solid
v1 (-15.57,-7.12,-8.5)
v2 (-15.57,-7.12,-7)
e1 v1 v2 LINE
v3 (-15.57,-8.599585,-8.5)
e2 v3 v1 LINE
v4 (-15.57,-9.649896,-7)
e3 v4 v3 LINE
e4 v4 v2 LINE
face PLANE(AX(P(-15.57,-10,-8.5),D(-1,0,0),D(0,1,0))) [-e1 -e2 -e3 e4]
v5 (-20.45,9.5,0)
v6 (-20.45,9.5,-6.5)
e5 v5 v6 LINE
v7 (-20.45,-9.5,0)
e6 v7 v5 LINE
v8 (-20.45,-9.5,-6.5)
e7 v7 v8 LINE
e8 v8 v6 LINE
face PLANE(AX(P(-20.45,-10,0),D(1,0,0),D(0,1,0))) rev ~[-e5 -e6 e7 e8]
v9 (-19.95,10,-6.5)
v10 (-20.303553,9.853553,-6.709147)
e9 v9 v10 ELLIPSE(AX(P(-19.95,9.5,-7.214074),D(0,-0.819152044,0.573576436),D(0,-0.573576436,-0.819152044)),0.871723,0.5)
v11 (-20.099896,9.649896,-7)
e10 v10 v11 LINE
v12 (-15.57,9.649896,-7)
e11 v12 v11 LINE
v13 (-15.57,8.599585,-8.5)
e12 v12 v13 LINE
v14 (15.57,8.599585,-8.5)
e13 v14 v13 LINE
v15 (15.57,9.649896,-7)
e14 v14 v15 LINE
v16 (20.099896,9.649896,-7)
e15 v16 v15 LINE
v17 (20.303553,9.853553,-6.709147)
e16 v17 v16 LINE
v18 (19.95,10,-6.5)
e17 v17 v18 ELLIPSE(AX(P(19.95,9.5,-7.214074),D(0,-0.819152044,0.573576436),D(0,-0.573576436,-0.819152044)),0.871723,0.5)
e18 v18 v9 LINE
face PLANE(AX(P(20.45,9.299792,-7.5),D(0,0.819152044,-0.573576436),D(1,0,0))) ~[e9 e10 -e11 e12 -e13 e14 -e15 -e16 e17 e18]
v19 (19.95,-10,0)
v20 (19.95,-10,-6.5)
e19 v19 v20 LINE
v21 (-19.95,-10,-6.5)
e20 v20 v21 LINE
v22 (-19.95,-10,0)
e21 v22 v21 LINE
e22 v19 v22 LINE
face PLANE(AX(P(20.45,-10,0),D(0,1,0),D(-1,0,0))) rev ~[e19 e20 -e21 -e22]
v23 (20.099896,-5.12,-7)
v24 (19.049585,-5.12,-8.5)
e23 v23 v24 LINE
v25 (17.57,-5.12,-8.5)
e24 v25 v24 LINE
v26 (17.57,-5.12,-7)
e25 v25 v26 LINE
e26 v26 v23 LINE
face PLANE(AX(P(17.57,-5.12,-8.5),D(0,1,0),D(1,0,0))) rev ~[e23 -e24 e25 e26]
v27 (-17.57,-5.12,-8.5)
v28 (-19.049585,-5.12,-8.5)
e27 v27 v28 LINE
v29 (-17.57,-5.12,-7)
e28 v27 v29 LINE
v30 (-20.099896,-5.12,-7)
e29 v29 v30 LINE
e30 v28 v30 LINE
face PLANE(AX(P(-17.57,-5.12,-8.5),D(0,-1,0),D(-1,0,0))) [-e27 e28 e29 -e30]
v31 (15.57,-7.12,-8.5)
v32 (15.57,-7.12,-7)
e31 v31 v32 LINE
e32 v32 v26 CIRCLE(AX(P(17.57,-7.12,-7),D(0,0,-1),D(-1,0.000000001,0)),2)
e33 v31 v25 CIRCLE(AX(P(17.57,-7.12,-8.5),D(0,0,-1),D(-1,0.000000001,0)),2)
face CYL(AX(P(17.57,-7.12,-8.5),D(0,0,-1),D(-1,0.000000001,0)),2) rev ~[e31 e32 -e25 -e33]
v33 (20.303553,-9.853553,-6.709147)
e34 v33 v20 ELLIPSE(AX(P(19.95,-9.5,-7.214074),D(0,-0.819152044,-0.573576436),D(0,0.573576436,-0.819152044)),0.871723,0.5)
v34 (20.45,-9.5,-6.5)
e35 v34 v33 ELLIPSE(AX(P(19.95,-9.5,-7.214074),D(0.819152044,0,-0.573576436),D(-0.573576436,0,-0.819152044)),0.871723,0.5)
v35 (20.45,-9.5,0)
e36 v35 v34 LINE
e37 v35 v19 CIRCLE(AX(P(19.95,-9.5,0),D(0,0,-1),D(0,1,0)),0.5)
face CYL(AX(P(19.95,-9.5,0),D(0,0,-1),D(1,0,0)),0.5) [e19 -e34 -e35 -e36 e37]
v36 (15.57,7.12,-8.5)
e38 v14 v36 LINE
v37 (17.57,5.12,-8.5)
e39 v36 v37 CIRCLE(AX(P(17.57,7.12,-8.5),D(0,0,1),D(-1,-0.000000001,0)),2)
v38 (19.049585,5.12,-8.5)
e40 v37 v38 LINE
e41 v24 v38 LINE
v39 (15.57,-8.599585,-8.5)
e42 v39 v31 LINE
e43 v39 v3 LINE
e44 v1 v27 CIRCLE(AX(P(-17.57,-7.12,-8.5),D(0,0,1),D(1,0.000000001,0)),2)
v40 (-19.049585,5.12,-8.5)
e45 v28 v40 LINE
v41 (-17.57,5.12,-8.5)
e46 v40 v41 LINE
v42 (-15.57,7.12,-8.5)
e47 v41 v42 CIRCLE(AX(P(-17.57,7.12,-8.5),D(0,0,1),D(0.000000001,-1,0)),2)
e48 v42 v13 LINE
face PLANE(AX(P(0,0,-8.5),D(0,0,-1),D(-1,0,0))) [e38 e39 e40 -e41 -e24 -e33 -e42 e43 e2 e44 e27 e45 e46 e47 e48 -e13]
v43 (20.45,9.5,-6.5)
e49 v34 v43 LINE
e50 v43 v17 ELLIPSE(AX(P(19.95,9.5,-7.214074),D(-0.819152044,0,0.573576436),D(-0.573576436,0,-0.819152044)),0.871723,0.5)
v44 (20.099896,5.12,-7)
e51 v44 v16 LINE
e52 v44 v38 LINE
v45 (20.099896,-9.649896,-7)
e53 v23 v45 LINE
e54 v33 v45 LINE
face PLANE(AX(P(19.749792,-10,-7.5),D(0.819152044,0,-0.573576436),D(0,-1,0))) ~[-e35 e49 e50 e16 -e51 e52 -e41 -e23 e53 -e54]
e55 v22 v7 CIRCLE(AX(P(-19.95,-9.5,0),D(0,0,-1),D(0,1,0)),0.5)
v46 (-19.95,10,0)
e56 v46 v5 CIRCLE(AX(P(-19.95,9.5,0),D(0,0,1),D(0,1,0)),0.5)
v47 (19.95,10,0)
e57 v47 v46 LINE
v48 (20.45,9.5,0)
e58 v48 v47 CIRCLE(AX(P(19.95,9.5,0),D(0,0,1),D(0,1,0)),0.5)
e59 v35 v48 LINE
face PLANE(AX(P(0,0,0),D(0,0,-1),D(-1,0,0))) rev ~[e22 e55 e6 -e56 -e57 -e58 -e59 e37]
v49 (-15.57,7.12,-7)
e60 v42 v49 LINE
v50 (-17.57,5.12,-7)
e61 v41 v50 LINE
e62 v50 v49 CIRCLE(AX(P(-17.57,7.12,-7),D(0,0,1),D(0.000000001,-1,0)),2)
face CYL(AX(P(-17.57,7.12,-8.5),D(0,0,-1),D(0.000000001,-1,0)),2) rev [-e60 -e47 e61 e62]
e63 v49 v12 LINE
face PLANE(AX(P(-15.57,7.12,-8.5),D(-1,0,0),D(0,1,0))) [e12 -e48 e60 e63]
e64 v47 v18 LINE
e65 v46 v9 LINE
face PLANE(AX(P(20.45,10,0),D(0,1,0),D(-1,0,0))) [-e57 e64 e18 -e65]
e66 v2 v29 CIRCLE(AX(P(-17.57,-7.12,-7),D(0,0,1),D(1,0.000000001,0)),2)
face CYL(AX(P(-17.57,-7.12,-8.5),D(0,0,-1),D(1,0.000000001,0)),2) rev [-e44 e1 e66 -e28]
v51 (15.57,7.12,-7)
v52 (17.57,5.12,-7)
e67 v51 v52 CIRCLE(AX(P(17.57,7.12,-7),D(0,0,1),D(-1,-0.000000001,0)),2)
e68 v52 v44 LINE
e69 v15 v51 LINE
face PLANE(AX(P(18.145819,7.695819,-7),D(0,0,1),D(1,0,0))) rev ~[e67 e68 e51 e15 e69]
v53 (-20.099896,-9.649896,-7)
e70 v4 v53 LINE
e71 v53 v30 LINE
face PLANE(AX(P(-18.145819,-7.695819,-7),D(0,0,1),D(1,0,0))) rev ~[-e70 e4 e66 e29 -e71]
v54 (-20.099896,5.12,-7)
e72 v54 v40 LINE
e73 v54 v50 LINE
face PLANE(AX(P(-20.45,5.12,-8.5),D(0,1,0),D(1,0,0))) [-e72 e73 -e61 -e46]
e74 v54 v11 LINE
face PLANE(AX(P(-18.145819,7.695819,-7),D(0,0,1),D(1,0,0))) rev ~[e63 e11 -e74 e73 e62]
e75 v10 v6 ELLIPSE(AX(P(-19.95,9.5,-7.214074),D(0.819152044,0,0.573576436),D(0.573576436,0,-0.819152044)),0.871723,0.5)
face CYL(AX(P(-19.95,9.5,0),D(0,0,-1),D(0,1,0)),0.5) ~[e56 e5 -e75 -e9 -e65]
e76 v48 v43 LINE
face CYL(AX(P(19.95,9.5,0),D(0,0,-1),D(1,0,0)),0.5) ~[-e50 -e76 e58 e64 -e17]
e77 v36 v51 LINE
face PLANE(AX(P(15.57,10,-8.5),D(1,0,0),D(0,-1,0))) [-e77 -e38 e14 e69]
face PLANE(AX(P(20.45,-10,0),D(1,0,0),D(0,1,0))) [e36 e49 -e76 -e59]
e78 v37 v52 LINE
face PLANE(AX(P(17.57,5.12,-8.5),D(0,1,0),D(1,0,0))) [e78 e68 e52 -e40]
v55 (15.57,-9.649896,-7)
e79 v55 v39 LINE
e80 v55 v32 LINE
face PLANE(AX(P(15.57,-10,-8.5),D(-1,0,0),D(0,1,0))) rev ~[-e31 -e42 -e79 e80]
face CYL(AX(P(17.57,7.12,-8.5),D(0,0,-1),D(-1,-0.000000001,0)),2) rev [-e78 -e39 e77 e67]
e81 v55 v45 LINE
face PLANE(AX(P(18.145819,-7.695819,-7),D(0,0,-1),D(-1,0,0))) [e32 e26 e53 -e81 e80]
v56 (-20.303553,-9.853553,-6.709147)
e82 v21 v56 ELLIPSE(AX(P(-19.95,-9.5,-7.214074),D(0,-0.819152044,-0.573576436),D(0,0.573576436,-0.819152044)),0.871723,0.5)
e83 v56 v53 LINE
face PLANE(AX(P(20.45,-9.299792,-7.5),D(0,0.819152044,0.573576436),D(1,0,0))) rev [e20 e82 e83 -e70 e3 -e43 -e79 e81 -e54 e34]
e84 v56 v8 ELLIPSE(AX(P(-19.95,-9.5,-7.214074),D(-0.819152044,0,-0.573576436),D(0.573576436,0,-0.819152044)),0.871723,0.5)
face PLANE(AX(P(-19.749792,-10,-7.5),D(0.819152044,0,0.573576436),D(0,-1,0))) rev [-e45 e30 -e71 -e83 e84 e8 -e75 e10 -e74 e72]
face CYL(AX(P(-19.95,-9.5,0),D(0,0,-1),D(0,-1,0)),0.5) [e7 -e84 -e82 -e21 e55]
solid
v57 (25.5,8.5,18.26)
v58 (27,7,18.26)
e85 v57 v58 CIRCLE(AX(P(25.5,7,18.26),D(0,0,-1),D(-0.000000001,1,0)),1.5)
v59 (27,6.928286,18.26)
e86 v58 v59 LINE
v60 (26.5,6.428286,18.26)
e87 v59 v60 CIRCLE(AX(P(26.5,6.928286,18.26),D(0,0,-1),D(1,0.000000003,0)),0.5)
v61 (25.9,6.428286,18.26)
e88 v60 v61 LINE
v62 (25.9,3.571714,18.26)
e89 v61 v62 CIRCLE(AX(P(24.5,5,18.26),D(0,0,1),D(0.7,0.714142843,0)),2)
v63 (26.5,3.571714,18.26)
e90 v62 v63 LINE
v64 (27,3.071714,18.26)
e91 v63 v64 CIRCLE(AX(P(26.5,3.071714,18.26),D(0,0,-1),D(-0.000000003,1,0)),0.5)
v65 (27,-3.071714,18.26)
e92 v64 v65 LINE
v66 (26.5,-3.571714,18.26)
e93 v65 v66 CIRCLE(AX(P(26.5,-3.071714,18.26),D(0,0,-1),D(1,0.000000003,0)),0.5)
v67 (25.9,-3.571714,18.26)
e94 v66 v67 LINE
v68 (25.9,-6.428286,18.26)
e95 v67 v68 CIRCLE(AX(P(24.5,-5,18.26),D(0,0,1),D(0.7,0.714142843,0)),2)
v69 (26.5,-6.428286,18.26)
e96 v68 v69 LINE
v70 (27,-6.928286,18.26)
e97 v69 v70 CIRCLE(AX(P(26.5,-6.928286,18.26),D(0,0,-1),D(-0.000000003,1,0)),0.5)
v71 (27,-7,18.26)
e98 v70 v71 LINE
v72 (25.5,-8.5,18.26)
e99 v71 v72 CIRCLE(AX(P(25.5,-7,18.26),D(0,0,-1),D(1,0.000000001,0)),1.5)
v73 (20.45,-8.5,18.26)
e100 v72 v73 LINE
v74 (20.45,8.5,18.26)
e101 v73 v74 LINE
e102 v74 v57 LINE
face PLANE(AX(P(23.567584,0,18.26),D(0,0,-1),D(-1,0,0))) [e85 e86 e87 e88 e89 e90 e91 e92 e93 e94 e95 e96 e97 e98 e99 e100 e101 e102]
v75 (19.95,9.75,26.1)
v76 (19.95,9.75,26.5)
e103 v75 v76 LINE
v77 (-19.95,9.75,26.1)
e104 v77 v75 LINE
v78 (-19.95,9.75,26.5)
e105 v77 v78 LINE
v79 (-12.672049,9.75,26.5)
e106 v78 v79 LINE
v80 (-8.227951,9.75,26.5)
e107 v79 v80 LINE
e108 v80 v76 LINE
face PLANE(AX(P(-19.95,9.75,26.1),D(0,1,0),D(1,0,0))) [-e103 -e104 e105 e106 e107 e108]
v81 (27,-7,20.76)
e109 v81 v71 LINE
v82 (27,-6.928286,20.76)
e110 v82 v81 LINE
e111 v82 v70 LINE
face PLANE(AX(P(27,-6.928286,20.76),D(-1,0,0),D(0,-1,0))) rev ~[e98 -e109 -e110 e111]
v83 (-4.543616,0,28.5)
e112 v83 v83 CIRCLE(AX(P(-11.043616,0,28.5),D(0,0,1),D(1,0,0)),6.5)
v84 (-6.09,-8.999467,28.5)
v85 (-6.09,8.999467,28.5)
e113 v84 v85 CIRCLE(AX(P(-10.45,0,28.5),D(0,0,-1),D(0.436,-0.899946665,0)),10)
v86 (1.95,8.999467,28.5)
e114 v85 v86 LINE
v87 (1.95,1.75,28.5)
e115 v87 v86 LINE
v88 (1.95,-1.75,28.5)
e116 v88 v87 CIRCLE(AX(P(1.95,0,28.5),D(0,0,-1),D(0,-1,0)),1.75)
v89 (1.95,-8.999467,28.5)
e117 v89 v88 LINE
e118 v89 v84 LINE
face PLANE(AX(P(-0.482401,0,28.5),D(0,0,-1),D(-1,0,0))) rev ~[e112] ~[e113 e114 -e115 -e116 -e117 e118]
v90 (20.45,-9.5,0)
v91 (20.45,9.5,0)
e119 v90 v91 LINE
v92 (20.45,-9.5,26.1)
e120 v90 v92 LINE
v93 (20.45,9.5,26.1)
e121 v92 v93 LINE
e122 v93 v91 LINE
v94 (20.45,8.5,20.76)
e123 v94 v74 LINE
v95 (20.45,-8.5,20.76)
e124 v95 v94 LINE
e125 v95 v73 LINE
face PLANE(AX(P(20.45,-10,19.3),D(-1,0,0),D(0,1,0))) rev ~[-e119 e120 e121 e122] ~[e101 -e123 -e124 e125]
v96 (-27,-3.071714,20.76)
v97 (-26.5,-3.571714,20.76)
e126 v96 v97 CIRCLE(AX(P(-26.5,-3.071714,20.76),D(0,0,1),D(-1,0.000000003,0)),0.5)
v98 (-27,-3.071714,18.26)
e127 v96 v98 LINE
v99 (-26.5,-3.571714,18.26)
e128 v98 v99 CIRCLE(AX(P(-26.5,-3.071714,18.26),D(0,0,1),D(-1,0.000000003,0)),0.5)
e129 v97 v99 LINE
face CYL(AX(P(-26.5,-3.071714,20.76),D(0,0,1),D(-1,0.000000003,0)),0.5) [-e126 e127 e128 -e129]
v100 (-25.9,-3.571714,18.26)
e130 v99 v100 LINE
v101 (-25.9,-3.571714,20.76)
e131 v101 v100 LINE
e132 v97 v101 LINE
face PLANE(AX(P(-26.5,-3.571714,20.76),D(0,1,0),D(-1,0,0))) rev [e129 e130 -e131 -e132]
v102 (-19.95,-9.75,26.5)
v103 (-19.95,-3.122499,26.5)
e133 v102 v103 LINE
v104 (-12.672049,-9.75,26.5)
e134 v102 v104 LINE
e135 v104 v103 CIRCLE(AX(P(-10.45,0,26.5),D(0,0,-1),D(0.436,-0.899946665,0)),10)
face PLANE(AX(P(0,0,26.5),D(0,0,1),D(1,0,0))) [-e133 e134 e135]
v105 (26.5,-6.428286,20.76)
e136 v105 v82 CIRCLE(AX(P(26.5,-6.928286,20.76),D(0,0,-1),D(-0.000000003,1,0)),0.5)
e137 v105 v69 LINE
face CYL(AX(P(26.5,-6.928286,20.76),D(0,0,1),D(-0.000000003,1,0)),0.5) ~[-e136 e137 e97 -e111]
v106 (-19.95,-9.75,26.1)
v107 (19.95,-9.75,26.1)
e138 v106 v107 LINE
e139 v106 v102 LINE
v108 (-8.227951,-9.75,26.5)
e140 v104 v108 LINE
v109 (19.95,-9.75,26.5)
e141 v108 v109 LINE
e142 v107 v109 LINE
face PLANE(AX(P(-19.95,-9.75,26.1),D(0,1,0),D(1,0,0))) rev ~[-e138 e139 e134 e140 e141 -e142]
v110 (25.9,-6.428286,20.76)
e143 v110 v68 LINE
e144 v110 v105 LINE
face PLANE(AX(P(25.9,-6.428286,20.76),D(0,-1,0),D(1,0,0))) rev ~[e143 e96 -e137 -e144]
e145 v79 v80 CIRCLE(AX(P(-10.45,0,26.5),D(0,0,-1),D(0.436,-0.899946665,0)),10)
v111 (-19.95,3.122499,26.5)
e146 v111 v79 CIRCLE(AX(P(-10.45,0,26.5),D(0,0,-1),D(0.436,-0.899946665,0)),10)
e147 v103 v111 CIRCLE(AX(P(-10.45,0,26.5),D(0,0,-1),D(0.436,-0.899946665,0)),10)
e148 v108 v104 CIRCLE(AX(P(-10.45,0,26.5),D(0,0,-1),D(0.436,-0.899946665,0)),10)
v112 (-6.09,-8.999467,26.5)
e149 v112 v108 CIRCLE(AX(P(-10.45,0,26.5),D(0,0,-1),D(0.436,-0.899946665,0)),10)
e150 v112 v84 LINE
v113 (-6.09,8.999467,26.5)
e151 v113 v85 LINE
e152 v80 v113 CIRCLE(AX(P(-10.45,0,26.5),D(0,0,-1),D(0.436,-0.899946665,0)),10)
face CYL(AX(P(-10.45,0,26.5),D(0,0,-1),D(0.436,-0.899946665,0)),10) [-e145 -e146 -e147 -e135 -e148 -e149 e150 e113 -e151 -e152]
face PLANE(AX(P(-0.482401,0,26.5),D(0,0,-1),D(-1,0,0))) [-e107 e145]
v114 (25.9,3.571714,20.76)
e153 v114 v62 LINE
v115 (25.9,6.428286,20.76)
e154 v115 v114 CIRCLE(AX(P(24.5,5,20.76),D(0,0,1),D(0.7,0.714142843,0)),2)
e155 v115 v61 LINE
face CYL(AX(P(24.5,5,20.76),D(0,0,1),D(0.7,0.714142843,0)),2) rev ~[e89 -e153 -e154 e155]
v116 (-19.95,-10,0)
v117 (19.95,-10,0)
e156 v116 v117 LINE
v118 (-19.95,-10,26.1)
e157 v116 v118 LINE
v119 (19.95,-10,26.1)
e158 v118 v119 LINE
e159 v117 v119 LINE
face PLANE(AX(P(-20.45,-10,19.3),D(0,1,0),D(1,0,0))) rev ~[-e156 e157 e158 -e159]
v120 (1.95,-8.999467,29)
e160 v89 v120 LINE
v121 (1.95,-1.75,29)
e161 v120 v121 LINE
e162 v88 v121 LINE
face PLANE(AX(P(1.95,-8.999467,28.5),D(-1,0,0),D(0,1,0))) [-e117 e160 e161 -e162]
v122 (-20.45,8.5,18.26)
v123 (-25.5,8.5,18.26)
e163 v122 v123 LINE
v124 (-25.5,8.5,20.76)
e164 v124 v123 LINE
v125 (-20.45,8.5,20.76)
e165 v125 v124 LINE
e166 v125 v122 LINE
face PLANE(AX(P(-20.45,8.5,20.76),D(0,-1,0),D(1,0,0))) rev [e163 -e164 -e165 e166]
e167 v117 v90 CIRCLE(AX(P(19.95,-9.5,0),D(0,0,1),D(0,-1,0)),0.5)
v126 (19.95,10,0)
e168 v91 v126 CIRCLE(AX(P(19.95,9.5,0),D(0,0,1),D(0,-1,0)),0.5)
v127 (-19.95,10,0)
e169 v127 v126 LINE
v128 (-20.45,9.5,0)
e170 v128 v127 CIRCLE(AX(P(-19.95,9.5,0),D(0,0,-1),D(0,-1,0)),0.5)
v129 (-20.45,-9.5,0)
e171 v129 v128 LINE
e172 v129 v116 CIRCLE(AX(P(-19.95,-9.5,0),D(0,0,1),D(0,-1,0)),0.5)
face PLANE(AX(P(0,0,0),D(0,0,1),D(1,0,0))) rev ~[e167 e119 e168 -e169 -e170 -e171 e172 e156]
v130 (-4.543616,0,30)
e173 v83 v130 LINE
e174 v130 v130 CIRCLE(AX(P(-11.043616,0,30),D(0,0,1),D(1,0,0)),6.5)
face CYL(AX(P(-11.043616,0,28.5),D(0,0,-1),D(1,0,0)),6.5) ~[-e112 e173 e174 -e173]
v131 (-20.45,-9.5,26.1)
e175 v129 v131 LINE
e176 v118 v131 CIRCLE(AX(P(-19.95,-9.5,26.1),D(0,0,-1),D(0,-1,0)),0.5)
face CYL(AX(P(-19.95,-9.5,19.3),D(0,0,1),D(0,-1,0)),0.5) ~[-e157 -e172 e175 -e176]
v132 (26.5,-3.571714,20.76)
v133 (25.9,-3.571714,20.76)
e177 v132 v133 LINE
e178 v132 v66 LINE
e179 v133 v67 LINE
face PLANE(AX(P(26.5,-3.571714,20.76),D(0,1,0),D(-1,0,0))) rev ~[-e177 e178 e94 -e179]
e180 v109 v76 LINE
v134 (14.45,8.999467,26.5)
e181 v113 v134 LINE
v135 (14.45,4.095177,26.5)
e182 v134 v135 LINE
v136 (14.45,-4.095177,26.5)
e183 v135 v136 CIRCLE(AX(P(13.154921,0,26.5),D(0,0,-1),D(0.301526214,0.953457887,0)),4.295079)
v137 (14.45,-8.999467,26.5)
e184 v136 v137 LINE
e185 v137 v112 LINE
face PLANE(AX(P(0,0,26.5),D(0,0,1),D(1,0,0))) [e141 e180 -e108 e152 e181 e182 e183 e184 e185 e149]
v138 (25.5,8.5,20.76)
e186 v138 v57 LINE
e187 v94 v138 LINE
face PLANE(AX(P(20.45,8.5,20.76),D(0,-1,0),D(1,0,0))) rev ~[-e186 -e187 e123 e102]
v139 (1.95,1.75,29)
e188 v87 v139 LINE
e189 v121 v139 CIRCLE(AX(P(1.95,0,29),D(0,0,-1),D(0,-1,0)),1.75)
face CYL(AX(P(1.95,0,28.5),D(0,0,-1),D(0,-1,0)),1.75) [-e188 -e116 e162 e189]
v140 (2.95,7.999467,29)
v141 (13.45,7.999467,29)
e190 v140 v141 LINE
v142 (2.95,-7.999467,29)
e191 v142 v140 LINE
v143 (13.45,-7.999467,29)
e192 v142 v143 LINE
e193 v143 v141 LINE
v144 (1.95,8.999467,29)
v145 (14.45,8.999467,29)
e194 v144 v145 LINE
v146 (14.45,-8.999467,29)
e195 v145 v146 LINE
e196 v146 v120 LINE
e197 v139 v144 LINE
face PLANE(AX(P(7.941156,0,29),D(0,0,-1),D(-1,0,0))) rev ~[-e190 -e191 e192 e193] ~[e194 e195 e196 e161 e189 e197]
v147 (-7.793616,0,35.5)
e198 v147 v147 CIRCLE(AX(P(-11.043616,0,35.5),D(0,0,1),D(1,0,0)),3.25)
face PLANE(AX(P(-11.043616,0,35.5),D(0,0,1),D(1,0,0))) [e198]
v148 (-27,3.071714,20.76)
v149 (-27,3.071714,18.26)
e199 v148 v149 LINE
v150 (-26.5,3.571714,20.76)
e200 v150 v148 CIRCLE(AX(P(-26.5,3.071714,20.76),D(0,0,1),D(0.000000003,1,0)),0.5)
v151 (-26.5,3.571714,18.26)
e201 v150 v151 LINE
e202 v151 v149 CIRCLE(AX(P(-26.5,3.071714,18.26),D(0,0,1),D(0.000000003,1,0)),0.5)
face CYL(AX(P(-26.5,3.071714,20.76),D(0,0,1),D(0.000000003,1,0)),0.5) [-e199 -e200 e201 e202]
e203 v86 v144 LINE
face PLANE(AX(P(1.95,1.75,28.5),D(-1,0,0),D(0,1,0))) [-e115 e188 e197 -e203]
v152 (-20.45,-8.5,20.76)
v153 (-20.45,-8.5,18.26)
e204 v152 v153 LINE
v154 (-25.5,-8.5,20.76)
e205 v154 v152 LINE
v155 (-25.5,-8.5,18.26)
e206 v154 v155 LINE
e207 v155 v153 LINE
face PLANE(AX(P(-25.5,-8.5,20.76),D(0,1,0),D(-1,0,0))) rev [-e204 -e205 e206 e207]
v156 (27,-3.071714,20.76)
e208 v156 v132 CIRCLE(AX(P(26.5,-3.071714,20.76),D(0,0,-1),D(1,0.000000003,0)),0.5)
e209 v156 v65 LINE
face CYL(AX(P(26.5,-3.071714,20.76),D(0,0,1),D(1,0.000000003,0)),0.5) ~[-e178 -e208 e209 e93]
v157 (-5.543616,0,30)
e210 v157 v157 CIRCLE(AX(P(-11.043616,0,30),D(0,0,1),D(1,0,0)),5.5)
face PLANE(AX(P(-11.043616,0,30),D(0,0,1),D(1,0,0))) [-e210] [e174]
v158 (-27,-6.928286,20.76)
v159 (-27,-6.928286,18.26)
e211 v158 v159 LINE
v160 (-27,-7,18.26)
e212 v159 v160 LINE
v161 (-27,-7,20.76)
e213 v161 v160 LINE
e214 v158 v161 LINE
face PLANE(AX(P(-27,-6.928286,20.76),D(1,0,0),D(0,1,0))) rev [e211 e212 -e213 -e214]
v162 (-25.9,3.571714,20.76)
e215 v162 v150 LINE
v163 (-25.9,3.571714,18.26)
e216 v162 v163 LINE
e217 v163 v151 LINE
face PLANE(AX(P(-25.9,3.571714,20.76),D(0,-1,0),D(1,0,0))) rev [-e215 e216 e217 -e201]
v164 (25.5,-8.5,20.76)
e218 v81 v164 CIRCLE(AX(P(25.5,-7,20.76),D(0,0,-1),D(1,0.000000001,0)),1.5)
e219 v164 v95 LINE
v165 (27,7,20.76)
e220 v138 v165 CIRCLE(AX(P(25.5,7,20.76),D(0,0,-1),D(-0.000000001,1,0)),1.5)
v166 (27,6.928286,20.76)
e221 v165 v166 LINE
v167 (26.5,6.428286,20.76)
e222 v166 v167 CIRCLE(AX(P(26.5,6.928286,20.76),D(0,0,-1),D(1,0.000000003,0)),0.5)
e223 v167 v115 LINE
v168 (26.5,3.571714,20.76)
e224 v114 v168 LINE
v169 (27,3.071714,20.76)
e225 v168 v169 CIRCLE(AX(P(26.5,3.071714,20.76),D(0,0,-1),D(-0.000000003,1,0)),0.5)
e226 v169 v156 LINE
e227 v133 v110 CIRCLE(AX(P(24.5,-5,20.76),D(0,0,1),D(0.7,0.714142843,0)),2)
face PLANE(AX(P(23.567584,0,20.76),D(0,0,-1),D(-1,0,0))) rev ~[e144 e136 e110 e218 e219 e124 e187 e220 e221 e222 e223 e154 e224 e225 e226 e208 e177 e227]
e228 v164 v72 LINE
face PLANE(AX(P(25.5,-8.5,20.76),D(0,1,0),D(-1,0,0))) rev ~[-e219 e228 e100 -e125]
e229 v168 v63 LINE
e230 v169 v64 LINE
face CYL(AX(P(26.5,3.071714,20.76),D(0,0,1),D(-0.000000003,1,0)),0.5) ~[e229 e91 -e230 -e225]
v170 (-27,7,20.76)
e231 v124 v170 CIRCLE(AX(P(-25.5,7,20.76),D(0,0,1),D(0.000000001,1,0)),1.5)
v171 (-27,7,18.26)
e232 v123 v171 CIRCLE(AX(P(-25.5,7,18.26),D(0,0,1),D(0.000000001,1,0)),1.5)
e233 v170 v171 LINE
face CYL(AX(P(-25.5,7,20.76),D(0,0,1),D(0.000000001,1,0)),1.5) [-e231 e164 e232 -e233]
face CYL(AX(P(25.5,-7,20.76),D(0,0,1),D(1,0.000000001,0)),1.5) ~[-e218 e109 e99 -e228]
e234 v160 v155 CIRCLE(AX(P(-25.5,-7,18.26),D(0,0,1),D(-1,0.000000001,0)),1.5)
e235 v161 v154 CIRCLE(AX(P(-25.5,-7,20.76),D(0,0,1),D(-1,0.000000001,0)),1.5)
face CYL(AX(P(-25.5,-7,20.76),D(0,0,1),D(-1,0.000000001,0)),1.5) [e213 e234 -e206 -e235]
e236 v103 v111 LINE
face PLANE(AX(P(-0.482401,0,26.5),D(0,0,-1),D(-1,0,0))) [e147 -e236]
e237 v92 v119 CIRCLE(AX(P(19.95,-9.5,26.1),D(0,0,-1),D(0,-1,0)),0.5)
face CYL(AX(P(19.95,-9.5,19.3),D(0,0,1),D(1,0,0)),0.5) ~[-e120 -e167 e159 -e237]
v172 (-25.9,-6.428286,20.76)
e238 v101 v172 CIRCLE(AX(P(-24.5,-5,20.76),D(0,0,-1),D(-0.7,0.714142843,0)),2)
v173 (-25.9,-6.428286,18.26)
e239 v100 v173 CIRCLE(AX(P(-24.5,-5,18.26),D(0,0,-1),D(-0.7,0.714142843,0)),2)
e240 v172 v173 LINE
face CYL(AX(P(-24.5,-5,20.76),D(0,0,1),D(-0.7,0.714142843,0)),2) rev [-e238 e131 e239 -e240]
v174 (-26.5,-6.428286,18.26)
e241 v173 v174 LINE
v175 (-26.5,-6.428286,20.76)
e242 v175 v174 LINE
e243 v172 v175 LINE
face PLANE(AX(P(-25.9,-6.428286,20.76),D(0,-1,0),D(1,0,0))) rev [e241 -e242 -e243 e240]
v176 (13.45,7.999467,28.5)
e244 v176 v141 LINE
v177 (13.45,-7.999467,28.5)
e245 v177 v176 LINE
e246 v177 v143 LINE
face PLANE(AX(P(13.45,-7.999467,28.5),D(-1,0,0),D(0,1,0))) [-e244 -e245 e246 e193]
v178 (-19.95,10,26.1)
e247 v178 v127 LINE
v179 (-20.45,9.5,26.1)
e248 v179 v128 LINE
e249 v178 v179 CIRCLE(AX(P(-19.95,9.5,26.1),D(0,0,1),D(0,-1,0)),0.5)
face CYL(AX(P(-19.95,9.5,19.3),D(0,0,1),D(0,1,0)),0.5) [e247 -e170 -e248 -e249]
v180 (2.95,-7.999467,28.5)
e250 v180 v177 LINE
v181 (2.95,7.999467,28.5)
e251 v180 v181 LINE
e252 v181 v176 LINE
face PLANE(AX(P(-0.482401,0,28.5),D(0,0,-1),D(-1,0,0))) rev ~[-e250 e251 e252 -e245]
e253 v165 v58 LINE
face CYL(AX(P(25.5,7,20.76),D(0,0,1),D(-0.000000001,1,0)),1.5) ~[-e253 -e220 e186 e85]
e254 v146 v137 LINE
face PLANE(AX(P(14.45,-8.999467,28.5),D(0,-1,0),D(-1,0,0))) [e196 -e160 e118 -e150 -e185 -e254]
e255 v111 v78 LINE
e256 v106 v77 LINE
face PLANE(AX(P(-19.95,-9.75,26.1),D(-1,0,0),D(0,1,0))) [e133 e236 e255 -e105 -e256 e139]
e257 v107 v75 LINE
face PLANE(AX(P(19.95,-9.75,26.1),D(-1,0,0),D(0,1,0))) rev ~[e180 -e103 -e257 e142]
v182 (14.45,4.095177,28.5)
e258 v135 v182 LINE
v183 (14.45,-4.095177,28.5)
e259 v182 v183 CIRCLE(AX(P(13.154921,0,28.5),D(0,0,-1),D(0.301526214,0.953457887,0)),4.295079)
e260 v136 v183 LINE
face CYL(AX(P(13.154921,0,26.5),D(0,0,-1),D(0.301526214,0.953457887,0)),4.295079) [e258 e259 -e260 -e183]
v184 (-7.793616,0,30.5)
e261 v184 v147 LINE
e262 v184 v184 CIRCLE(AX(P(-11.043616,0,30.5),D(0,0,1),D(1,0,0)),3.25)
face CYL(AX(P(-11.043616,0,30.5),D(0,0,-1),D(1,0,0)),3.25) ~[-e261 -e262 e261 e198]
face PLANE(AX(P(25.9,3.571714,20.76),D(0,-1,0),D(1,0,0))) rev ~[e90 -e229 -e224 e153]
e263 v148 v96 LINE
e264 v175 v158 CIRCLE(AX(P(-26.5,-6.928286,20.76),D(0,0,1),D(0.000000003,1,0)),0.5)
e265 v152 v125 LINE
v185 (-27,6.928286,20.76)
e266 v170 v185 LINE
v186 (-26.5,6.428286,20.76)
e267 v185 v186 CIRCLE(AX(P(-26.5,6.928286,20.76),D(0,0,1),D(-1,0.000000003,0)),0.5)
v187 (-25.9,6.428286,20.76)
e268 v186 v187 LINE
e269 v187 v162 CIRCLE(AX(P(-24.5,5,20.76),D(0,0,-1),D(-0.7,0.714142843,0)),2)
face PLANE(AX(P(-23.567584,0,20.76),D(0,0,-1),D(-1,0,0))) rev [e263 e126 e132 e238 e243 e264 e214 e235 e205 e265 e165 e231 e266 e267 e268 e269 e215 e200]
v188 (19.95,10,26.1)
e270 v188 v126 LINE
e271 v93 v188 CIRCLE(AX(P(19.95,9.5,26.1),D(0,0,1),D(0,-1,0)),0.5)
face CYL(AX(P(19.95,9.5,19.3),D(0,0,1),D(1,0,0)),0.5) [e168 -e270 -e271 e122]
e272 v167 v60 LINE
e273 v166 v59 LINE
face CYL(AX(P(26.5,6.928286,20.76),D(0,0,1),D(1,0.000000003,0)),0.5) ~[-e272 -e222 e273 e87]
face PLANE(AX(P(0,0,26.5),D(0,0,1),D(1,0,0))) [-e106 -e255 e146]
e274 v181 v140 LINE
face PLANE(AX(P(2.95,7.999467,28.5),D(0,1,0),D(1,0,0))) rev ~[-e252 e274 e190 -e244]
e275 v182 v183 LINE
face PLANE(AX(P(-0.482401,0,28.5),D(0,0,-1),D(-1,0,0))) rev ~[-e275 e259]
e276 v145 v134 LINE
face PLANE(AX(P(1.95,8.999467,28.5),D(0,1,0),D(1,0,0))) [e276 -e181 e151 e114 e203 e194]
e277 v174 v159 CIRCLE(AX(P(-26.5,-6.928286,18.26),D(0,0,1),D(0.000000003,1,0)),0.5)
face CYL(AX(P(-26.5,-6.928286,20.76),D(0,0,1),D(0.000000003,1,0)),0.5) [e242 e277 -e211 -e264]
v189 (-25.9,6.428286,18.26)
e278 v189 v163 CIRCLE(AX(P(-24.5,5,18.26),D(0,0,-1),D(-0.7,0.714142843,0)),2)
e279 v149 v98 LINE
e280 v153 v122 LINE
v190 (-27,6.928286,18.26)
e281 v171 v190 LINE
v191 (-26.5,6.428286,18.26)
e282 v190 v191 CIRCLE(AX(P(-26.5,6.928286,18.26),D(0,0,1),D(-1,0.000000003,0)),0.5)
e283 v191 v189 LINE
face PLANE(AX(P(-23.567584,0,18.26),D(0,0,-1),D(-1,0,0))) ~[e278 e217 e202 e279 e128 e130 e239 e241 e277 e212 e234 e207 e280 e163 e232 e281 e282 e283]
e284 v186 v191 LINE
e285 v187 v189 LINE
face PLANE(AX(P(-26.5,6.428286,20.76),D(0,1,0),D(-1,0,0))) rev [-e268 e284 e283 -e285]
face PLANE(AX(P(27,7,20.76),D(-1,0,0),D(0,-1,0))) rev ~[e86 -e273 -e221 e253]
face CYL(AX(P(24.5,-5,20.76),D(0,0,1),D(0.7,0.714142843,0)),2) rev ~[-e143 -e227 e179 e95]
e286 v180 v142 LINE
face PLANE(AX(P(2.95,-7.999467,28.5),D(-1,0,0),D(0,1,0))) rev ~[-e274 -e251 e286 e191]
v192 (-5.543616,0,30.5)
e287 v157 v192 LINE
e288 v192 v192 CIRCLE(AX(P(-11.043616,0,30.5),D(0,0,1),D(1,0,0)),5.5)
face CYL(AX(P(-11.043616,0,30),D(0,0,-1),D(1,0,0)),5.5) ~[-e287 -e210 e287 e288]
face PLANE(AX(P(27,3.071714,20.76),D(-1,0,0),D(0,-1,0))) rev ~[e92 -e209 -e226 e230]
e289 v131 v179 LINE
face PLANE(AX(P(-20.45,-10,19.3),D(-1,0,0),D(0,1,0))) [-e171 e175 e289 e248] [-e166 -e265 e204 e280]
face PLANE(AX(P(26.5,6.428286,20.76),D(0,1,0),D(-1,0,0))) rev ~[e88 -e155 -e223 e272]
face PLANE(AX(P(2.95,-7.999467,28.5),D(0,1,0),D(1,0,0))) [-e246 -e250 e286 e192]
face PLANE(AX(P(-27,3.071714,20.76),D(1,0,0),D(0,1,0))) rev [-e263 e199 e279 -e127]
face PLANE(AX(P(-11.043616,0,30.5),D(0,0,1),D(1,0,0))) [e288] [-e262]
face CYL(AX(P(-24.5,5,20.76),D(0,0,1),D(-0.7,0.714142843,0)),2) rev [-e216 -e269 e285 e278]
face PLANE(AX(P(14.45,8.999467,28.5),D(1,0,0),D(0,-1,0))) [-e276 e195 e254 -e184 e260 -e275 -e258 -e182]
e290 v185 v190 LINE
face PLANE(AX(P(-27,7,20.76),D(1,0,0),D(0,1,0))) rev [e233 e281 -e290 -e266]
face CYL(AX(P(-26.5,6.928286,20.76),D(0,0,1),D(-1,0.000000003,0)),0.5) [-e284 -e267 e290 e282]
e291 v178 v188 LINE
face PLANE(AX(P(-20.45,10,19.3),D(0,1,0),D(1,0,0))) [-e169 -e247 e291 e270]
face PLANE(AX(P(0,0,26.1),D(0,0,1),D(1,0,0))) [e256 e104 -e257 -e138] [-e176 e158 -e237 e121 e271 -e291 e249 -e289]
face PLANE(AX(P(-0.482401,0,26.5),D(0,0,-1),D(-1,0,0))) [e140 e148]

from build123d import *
from OCP.BRepFilletAPI import BRepFilletAPI_MakeChamfer

# Parameters (mm, degrees)
SKETCH1_W            = 40.9
SKETCH1_H            = 20
BOSS_EXTRUDE1_DEPTH  = 19.3
SKETCH2_W            = 40.9
SKETCH2_H            = 20
BOSS_EXTRUDE2_DEPTH  = 6.8
SKETCH3_W            = 40.9
SKETCH3_H            = 20
BOSS_EXTRUDE3_DEPTH  = 8.5
CHAMFER1_SIZE        = 2
CHAMFER1_SIZE2       = 1.400415076
CUT_EXTRUDE1_DEPTH   = 1.5
SKETCH5_W            = 39.9
SKETCH5_H            = 19.5
BOSS_EXTRUDE4_DEPTH  = 0.4
BOSS_EXTRUDE5_DEPTH  = 2
SKETCH7_R            = 6.5
BOSS_EXTRUDE6_DEPTH  = 1.5
SKETCH8_R            = 5.5
BOSS_EXTRUDE7_DEPTH  = 0.5
SKETCH9_R            = 3.25
BOSS_EXTRUDE8_DEPTH  = 5
SKETCH10_W           = 10.5
SKETCH10_H           = 15.998933302
BOSS_EXTRUDE9_DEPTH  = 0.5
FILLET1_R            = 0.5
FILLET2_R            = 0.5
FILLET4_R            = 0.5
BOSS_EXTRUDE10_START = -5.74
BOSS_EXTRUDE10_DEPTH = 2.5


with BuildPart() as part:
    # Sketch1 → Boss-Extrude1 (new body)
    with BuildSketch(Plane.XY):
        Rectangle(SKETCH1_W, SKETCH1_H)
    extrude(amount=BOSS_EXTRUDE1_DEPTH)

    # Fillet1
    fillet1_edges = [part.edges().sort_by_distance(p)[0] for p in [
        (20.45, -10, 9.65),
        (-20.45, -10, 9.65),
        (-20.45, 10, 9.65),
        (20.45, 10, 9.65),
    ]]
    fillet(fillet1_edges, radius=FILLET1_R)



with BuildPart() as body_2:
    # Sketch2 → Boss-Extrude2 (new body)
    with BuildSketch(Plane.XY.offset(19.3)):
        Rectangle(SKETCH2_W, SKETCH2_H)
    extrude(amount=BOSS_EXTRUDE2_DEPTH)

    # Sketch5 → Boss-Extrude4 (add)
    with BuildSketch(Plane.XY.offset(26.1)):
        Rectangle(SKETCH5_W, SKETCH5_H)
    extrude(amount=BOSS_EXTRUDE4_DEPTH)

    # Sketch6 → Boss-Extrude5 (add)
    with BuildSketch(Plane.XY.offset(26.5)):
        with BuildLine():
            Line((-6.09, 8.999466651), (14.45, 8.999466651))
            Line((14.45, 8.999466651), (14.45, 4.095176826))
            ThreePointArc((14.45, 4.095176826), (17.45, 0), (14.45, -4.095176826))
            Line((14.45, -4.095176826), (14.45, -8.999466651))
            Line((14.45, -8.999466651), (-6.09, -8.999466651))
            ThreePointArc((-6.09, -8.999466651), (-20.45, 0), (-6.09, 8.999466651))
        make_face()
    extrude(amount=BOSS_EXTRUDE5_DEPTH)

    # Sketch7 → Boss-Extrude6 (add)
    with BuildSketch(Plane.XY.offset(28.5)):
        with Locations((-11.043616273, 0)):
            Circle(SKETCH7_R)
    extrude(amount=BOSS_EXTRUDE6_DEPTH)

    # Sketch8 → Boss-Extrude7 (add)
    with BuildSketch(Plane.XY.offset(30)):
        with Locations((-11.043616273, 0)):
            Circle(SKETCH8_R)
    extrude(amount=BOSS_EXTRUDE7_DEPTH)

    # Sketch9 → Boss-Extrude8 (add)
    with BuildSketch(Plane.XY.offset(30.5)):
        with Locations((-11.043616273, 0)):
            Circle(SKETCH9_R)
    extrude(amount=BOSS_EXTRUDE8_DEPTH)

    # Sketch10 → Boss-Extrude9 (add)
    with BuildSketch(Plane.XY.offset(28.5)):
        with BuildLine():
            Line((1.95, 8.999466651), (14.45, 8.999466651))
            Line((14.45, 8.999466651), (14.45, -8.999466651))
            Line((14.45, -8.999466651), (1.95, -8.999466651))
            Line((1.95, -8.999466651), (1.95, -1.75))
            ThreePointArc((1.95, -1.75), (0.2, 0), (1.95, 1.75))
            Line((1.95, 1.75), (1.95, 8.999466651))
        make_face()
        with Locations((8.2, 0)):
            Rectangle(SKETCH10_W, SKETCH10_H, mode=Mode.SUBTRACT)
    extrude(amount=BOSS_EXTRUDE9_DEPTH)

    # Fillet2
    fillet2_edges = [body_2.edges().sort_by_distance(p)[0] for p in [
        (-20.45, -10, 22.7),
        (-20.45, 10, 22.7),
        (20.45, 10, 22.7),
        (20.45, -10, 22.7),
    ]]
    fillet(fillet2_edges, radius=FILLET2_R)


with BuildPart() as body_3:
    # Sketch3 → Boss-Extrude3 (new body)
    with BuildSketch(Plane(origin=(0, 0, 0), x_dir=(-1, 0, 0), z_dir=(0, 0, -1))):
        Rectangle(SKETCH3_W, SKETCH3_H)
    extrude(amount=BOSS_EXTRUDE3_DEPTH)

    # Chamfer1: one chamfer whose edges measure the first distance from different faces: ONE call of the kernel's chamfer builder (chamfer() names one face for all edges)
    chamfer1_edges_1 = [body_3.edges().sort_by_distance(p)[0] for p in [
        (0, -10, -8.5),
    ]]
    chamfer1_side_1 = [body_3.faces().sort_by_distance(p)[0] for p in [
        (0, -10, -4.25),
    ]]
    chamfer1_edges_2 = [body_3.edges().sort_by_distance(p)[0] for p in [
        (-20.45, 0, -8.5),
    ]]
    chamfer1_side_2 = [body_3.faces().sort_by_distance(p)[0] for p in [
        (-20.45, 0, -4.25),
    ]]
    chamfer1_edges_3 = [body_3.edges().sort_by_distance(p)[0] for p in [
        (0, 10, -8.5),
    ]]
    chamfer1_side_3 = [body_3.faces().sort_by_distance(p)[0] for p in [
        (0, 10, -4.25),
    ]]
    chamfer1_edges_4 = [body_3.edges().sort_by_distance(p)[0] for p in [
        (20.45, 0, -8.5),
    ]]
    chamfer1_side_4 = [body_3.faces().sort_by_distance(p)[0] for p in [
        (20.45, 0, -4.25),
    ]]
    chamfer1 = BRepFilletAPI_MakeChamfer(body_3.part.solid().wrapped)
    for e in chamfer1_edges_1:
        chamfer1.Add(CHAMFER1_SIZE, CHAMFER1_SIZE2, e.wrapped, chamfer1_side_1[0].wrapped)  # the first distance lies on this face
    for e in chamfer1_edges_2:
        chamfer1.Add(CHAMFER1_SIZE, CHAMFER1_SIZE2, e.wrapped, chamfer1_side_2[0].wrapped)  # the first distance lies on this face
    for e in chamfer1_edges_3:
        chamfer1.Add(CHAMFER1_SIZE, CHAMFER1_SIZE2, e.wrapped, chamfer1_side_3[0].wrapped)  # the first distance lies on this face
    for e in chamfer1_edges_4:
        chamfer1.Add(CHAMFER1_SIZE, CHAMFER1_SIZE2, e.wrapped, chamfer1_side_4[0].wrapped)  # the first distance lies on this face
    add(Compound.cast(chamfer1.Shape()), mode=Mode.REPLACE)

    # Sketch4 → Cut-Extrude1 (cut)
    with BuildSketch(Plane(origin=(0, 0, -8.5), x_dir=(-1, 0, 0), z_dir=(0, 0, -1))):
        with BuildLine():
            Line((-20.45, 10), (-15.57, 10))
            Line((-15.57, 10), (-15.57, 7.12))
            ThreePointArc((-15.57, 7.12), (-16.155786438, 5.705786438), (-17.57, 5.12))
            Line((-17.57, 5.12), (-20.45, 5.12))
            Line((-20.45, 5.12), (-20.45, 10))
        make_face()
        with BuildLine():
            Line((20.45, 5.12), (17.57, 5.12))
            ThreePointArc((17.57, 5.12), (16.155786438, 5.705786438), (15.57, 7.12))
            Line((15.57, 7.12), (15.57, 10))
            Line((15.57, 10), (20.45, 10))
            Line((20.45, 10), (20.45, 5.12))
        make_face()
        with BuildLine():
            Line((15.57, -10), (15.57, -7.12))
            ThreePointArc((15.57, -7.12), (16.155786438, -5.705786438), (17.57, -5.12))
            Line((17.57, -5.12), (20.45, -5.12))
            Line((20.45, -5.12), (20.45, -10))
            Line((20.45, -10), (15.57, -10))
        make_face()
        with BuildLine():
            Line((-15.57, -10), (-15.57, -7.12))
            ThreePointArc((-15.57, -7.12), (-16.155786438, -5.705786438), (-17.57, -5.12))
            Line((-17.57, -5.12), (-20.45, -5.12))
            Line((-20.45, -5.12), (-20.45, -10))
            Line((-20.45, -10), (-15.57, -10))
        make_face()
    extrude(amount=-CUT_EXTRUDE1_DEPTH, mode=Mode.SUBTRACT)

    # Fillet4
    fillet4_edges = [body_3.edges().sort_by_distance(p)[0] for p in [
        (-20.45, 10, -3.25),
        (-20.45, -10, -3.25),
        (20.45, -10, -3.25),
        (20.45, 10, -3.25),
    ]]
    fillet(fillet4_edges, radius=FILLET4_R)


with BuildPart() as part_1:
    add(part.part)

    add(body_2.part)  # Boss-Extrude10 merges body 2
    # Sketch11 → Boss-Extrude10 (add)
    with BuildSketch(Plane.XY.offset(26.5).offset(BOSS_EXTRUDE10_START)):
        with BuildLine():
            Line((20.45, 8.5), (25.5, 8.5))
            ThreePointArc((25.5, 8.5), (26.560660172, 8.060660172), (27, 7))
            Line((27, 7), (27, 6.928285686))
            ThreePointArc((27, 6.928285686), (26.853553391, 6.574732295), (26.5, 6.428285686))
            Line((26.5, 6.428285686), (25.9, 6.428285686))
            ThreePointArc((25.9, 6.428285686), (22.5, 5), (25.9, 3.571714314))
            Line((25.9, 3.571714314), (26.5, 3.571714314))
            ThreePointArc((26.5, 3.571714314), (26.853553391, 3.425267705), (27, 3.071714314))
            Line((27, 3.071714314), (27, -3.071714314))
            ThreePointArc((27, -3.071714314), (26.853553391, -3.425267705), (26.5, -3.571714314))
            Line((26.5, -3.571714314), (25.9, -3.571714314))
            ThreePointArc((25.9, -3.571714314), (22.5, -5), (25.9, -6.428285686))
            Line((25.9, -6.428285686), (26.5, -6.428285686))
            ThreePointArc((26.5, -6.428285686), (26.853553391, -6.574732295), (27, -6.928285686))
            Line((27, -6.928285686), (27, -7))
            ThreePointArc((27, -7), (26.560660172, -8.060660172), (25.5, -8.5))
            Line((25.5, -8.5), (20.45, -8.5))
            Line((20.45, -8.5), (20.45, 8.5))
        make_face()
    boss_extrude10 = extrude(amount=-BOSS_EXTRUDE10_DEPTH)

    # Mirror1: Boss-Extrude10 across plane
    add(boss_extrude10.mirror(Plane(origin=(0, 0, 0), x_dir=(0, 0, 1), z_dir=(1, 0, 0))))


solid = Compound([body_3.part, part_1.part])
